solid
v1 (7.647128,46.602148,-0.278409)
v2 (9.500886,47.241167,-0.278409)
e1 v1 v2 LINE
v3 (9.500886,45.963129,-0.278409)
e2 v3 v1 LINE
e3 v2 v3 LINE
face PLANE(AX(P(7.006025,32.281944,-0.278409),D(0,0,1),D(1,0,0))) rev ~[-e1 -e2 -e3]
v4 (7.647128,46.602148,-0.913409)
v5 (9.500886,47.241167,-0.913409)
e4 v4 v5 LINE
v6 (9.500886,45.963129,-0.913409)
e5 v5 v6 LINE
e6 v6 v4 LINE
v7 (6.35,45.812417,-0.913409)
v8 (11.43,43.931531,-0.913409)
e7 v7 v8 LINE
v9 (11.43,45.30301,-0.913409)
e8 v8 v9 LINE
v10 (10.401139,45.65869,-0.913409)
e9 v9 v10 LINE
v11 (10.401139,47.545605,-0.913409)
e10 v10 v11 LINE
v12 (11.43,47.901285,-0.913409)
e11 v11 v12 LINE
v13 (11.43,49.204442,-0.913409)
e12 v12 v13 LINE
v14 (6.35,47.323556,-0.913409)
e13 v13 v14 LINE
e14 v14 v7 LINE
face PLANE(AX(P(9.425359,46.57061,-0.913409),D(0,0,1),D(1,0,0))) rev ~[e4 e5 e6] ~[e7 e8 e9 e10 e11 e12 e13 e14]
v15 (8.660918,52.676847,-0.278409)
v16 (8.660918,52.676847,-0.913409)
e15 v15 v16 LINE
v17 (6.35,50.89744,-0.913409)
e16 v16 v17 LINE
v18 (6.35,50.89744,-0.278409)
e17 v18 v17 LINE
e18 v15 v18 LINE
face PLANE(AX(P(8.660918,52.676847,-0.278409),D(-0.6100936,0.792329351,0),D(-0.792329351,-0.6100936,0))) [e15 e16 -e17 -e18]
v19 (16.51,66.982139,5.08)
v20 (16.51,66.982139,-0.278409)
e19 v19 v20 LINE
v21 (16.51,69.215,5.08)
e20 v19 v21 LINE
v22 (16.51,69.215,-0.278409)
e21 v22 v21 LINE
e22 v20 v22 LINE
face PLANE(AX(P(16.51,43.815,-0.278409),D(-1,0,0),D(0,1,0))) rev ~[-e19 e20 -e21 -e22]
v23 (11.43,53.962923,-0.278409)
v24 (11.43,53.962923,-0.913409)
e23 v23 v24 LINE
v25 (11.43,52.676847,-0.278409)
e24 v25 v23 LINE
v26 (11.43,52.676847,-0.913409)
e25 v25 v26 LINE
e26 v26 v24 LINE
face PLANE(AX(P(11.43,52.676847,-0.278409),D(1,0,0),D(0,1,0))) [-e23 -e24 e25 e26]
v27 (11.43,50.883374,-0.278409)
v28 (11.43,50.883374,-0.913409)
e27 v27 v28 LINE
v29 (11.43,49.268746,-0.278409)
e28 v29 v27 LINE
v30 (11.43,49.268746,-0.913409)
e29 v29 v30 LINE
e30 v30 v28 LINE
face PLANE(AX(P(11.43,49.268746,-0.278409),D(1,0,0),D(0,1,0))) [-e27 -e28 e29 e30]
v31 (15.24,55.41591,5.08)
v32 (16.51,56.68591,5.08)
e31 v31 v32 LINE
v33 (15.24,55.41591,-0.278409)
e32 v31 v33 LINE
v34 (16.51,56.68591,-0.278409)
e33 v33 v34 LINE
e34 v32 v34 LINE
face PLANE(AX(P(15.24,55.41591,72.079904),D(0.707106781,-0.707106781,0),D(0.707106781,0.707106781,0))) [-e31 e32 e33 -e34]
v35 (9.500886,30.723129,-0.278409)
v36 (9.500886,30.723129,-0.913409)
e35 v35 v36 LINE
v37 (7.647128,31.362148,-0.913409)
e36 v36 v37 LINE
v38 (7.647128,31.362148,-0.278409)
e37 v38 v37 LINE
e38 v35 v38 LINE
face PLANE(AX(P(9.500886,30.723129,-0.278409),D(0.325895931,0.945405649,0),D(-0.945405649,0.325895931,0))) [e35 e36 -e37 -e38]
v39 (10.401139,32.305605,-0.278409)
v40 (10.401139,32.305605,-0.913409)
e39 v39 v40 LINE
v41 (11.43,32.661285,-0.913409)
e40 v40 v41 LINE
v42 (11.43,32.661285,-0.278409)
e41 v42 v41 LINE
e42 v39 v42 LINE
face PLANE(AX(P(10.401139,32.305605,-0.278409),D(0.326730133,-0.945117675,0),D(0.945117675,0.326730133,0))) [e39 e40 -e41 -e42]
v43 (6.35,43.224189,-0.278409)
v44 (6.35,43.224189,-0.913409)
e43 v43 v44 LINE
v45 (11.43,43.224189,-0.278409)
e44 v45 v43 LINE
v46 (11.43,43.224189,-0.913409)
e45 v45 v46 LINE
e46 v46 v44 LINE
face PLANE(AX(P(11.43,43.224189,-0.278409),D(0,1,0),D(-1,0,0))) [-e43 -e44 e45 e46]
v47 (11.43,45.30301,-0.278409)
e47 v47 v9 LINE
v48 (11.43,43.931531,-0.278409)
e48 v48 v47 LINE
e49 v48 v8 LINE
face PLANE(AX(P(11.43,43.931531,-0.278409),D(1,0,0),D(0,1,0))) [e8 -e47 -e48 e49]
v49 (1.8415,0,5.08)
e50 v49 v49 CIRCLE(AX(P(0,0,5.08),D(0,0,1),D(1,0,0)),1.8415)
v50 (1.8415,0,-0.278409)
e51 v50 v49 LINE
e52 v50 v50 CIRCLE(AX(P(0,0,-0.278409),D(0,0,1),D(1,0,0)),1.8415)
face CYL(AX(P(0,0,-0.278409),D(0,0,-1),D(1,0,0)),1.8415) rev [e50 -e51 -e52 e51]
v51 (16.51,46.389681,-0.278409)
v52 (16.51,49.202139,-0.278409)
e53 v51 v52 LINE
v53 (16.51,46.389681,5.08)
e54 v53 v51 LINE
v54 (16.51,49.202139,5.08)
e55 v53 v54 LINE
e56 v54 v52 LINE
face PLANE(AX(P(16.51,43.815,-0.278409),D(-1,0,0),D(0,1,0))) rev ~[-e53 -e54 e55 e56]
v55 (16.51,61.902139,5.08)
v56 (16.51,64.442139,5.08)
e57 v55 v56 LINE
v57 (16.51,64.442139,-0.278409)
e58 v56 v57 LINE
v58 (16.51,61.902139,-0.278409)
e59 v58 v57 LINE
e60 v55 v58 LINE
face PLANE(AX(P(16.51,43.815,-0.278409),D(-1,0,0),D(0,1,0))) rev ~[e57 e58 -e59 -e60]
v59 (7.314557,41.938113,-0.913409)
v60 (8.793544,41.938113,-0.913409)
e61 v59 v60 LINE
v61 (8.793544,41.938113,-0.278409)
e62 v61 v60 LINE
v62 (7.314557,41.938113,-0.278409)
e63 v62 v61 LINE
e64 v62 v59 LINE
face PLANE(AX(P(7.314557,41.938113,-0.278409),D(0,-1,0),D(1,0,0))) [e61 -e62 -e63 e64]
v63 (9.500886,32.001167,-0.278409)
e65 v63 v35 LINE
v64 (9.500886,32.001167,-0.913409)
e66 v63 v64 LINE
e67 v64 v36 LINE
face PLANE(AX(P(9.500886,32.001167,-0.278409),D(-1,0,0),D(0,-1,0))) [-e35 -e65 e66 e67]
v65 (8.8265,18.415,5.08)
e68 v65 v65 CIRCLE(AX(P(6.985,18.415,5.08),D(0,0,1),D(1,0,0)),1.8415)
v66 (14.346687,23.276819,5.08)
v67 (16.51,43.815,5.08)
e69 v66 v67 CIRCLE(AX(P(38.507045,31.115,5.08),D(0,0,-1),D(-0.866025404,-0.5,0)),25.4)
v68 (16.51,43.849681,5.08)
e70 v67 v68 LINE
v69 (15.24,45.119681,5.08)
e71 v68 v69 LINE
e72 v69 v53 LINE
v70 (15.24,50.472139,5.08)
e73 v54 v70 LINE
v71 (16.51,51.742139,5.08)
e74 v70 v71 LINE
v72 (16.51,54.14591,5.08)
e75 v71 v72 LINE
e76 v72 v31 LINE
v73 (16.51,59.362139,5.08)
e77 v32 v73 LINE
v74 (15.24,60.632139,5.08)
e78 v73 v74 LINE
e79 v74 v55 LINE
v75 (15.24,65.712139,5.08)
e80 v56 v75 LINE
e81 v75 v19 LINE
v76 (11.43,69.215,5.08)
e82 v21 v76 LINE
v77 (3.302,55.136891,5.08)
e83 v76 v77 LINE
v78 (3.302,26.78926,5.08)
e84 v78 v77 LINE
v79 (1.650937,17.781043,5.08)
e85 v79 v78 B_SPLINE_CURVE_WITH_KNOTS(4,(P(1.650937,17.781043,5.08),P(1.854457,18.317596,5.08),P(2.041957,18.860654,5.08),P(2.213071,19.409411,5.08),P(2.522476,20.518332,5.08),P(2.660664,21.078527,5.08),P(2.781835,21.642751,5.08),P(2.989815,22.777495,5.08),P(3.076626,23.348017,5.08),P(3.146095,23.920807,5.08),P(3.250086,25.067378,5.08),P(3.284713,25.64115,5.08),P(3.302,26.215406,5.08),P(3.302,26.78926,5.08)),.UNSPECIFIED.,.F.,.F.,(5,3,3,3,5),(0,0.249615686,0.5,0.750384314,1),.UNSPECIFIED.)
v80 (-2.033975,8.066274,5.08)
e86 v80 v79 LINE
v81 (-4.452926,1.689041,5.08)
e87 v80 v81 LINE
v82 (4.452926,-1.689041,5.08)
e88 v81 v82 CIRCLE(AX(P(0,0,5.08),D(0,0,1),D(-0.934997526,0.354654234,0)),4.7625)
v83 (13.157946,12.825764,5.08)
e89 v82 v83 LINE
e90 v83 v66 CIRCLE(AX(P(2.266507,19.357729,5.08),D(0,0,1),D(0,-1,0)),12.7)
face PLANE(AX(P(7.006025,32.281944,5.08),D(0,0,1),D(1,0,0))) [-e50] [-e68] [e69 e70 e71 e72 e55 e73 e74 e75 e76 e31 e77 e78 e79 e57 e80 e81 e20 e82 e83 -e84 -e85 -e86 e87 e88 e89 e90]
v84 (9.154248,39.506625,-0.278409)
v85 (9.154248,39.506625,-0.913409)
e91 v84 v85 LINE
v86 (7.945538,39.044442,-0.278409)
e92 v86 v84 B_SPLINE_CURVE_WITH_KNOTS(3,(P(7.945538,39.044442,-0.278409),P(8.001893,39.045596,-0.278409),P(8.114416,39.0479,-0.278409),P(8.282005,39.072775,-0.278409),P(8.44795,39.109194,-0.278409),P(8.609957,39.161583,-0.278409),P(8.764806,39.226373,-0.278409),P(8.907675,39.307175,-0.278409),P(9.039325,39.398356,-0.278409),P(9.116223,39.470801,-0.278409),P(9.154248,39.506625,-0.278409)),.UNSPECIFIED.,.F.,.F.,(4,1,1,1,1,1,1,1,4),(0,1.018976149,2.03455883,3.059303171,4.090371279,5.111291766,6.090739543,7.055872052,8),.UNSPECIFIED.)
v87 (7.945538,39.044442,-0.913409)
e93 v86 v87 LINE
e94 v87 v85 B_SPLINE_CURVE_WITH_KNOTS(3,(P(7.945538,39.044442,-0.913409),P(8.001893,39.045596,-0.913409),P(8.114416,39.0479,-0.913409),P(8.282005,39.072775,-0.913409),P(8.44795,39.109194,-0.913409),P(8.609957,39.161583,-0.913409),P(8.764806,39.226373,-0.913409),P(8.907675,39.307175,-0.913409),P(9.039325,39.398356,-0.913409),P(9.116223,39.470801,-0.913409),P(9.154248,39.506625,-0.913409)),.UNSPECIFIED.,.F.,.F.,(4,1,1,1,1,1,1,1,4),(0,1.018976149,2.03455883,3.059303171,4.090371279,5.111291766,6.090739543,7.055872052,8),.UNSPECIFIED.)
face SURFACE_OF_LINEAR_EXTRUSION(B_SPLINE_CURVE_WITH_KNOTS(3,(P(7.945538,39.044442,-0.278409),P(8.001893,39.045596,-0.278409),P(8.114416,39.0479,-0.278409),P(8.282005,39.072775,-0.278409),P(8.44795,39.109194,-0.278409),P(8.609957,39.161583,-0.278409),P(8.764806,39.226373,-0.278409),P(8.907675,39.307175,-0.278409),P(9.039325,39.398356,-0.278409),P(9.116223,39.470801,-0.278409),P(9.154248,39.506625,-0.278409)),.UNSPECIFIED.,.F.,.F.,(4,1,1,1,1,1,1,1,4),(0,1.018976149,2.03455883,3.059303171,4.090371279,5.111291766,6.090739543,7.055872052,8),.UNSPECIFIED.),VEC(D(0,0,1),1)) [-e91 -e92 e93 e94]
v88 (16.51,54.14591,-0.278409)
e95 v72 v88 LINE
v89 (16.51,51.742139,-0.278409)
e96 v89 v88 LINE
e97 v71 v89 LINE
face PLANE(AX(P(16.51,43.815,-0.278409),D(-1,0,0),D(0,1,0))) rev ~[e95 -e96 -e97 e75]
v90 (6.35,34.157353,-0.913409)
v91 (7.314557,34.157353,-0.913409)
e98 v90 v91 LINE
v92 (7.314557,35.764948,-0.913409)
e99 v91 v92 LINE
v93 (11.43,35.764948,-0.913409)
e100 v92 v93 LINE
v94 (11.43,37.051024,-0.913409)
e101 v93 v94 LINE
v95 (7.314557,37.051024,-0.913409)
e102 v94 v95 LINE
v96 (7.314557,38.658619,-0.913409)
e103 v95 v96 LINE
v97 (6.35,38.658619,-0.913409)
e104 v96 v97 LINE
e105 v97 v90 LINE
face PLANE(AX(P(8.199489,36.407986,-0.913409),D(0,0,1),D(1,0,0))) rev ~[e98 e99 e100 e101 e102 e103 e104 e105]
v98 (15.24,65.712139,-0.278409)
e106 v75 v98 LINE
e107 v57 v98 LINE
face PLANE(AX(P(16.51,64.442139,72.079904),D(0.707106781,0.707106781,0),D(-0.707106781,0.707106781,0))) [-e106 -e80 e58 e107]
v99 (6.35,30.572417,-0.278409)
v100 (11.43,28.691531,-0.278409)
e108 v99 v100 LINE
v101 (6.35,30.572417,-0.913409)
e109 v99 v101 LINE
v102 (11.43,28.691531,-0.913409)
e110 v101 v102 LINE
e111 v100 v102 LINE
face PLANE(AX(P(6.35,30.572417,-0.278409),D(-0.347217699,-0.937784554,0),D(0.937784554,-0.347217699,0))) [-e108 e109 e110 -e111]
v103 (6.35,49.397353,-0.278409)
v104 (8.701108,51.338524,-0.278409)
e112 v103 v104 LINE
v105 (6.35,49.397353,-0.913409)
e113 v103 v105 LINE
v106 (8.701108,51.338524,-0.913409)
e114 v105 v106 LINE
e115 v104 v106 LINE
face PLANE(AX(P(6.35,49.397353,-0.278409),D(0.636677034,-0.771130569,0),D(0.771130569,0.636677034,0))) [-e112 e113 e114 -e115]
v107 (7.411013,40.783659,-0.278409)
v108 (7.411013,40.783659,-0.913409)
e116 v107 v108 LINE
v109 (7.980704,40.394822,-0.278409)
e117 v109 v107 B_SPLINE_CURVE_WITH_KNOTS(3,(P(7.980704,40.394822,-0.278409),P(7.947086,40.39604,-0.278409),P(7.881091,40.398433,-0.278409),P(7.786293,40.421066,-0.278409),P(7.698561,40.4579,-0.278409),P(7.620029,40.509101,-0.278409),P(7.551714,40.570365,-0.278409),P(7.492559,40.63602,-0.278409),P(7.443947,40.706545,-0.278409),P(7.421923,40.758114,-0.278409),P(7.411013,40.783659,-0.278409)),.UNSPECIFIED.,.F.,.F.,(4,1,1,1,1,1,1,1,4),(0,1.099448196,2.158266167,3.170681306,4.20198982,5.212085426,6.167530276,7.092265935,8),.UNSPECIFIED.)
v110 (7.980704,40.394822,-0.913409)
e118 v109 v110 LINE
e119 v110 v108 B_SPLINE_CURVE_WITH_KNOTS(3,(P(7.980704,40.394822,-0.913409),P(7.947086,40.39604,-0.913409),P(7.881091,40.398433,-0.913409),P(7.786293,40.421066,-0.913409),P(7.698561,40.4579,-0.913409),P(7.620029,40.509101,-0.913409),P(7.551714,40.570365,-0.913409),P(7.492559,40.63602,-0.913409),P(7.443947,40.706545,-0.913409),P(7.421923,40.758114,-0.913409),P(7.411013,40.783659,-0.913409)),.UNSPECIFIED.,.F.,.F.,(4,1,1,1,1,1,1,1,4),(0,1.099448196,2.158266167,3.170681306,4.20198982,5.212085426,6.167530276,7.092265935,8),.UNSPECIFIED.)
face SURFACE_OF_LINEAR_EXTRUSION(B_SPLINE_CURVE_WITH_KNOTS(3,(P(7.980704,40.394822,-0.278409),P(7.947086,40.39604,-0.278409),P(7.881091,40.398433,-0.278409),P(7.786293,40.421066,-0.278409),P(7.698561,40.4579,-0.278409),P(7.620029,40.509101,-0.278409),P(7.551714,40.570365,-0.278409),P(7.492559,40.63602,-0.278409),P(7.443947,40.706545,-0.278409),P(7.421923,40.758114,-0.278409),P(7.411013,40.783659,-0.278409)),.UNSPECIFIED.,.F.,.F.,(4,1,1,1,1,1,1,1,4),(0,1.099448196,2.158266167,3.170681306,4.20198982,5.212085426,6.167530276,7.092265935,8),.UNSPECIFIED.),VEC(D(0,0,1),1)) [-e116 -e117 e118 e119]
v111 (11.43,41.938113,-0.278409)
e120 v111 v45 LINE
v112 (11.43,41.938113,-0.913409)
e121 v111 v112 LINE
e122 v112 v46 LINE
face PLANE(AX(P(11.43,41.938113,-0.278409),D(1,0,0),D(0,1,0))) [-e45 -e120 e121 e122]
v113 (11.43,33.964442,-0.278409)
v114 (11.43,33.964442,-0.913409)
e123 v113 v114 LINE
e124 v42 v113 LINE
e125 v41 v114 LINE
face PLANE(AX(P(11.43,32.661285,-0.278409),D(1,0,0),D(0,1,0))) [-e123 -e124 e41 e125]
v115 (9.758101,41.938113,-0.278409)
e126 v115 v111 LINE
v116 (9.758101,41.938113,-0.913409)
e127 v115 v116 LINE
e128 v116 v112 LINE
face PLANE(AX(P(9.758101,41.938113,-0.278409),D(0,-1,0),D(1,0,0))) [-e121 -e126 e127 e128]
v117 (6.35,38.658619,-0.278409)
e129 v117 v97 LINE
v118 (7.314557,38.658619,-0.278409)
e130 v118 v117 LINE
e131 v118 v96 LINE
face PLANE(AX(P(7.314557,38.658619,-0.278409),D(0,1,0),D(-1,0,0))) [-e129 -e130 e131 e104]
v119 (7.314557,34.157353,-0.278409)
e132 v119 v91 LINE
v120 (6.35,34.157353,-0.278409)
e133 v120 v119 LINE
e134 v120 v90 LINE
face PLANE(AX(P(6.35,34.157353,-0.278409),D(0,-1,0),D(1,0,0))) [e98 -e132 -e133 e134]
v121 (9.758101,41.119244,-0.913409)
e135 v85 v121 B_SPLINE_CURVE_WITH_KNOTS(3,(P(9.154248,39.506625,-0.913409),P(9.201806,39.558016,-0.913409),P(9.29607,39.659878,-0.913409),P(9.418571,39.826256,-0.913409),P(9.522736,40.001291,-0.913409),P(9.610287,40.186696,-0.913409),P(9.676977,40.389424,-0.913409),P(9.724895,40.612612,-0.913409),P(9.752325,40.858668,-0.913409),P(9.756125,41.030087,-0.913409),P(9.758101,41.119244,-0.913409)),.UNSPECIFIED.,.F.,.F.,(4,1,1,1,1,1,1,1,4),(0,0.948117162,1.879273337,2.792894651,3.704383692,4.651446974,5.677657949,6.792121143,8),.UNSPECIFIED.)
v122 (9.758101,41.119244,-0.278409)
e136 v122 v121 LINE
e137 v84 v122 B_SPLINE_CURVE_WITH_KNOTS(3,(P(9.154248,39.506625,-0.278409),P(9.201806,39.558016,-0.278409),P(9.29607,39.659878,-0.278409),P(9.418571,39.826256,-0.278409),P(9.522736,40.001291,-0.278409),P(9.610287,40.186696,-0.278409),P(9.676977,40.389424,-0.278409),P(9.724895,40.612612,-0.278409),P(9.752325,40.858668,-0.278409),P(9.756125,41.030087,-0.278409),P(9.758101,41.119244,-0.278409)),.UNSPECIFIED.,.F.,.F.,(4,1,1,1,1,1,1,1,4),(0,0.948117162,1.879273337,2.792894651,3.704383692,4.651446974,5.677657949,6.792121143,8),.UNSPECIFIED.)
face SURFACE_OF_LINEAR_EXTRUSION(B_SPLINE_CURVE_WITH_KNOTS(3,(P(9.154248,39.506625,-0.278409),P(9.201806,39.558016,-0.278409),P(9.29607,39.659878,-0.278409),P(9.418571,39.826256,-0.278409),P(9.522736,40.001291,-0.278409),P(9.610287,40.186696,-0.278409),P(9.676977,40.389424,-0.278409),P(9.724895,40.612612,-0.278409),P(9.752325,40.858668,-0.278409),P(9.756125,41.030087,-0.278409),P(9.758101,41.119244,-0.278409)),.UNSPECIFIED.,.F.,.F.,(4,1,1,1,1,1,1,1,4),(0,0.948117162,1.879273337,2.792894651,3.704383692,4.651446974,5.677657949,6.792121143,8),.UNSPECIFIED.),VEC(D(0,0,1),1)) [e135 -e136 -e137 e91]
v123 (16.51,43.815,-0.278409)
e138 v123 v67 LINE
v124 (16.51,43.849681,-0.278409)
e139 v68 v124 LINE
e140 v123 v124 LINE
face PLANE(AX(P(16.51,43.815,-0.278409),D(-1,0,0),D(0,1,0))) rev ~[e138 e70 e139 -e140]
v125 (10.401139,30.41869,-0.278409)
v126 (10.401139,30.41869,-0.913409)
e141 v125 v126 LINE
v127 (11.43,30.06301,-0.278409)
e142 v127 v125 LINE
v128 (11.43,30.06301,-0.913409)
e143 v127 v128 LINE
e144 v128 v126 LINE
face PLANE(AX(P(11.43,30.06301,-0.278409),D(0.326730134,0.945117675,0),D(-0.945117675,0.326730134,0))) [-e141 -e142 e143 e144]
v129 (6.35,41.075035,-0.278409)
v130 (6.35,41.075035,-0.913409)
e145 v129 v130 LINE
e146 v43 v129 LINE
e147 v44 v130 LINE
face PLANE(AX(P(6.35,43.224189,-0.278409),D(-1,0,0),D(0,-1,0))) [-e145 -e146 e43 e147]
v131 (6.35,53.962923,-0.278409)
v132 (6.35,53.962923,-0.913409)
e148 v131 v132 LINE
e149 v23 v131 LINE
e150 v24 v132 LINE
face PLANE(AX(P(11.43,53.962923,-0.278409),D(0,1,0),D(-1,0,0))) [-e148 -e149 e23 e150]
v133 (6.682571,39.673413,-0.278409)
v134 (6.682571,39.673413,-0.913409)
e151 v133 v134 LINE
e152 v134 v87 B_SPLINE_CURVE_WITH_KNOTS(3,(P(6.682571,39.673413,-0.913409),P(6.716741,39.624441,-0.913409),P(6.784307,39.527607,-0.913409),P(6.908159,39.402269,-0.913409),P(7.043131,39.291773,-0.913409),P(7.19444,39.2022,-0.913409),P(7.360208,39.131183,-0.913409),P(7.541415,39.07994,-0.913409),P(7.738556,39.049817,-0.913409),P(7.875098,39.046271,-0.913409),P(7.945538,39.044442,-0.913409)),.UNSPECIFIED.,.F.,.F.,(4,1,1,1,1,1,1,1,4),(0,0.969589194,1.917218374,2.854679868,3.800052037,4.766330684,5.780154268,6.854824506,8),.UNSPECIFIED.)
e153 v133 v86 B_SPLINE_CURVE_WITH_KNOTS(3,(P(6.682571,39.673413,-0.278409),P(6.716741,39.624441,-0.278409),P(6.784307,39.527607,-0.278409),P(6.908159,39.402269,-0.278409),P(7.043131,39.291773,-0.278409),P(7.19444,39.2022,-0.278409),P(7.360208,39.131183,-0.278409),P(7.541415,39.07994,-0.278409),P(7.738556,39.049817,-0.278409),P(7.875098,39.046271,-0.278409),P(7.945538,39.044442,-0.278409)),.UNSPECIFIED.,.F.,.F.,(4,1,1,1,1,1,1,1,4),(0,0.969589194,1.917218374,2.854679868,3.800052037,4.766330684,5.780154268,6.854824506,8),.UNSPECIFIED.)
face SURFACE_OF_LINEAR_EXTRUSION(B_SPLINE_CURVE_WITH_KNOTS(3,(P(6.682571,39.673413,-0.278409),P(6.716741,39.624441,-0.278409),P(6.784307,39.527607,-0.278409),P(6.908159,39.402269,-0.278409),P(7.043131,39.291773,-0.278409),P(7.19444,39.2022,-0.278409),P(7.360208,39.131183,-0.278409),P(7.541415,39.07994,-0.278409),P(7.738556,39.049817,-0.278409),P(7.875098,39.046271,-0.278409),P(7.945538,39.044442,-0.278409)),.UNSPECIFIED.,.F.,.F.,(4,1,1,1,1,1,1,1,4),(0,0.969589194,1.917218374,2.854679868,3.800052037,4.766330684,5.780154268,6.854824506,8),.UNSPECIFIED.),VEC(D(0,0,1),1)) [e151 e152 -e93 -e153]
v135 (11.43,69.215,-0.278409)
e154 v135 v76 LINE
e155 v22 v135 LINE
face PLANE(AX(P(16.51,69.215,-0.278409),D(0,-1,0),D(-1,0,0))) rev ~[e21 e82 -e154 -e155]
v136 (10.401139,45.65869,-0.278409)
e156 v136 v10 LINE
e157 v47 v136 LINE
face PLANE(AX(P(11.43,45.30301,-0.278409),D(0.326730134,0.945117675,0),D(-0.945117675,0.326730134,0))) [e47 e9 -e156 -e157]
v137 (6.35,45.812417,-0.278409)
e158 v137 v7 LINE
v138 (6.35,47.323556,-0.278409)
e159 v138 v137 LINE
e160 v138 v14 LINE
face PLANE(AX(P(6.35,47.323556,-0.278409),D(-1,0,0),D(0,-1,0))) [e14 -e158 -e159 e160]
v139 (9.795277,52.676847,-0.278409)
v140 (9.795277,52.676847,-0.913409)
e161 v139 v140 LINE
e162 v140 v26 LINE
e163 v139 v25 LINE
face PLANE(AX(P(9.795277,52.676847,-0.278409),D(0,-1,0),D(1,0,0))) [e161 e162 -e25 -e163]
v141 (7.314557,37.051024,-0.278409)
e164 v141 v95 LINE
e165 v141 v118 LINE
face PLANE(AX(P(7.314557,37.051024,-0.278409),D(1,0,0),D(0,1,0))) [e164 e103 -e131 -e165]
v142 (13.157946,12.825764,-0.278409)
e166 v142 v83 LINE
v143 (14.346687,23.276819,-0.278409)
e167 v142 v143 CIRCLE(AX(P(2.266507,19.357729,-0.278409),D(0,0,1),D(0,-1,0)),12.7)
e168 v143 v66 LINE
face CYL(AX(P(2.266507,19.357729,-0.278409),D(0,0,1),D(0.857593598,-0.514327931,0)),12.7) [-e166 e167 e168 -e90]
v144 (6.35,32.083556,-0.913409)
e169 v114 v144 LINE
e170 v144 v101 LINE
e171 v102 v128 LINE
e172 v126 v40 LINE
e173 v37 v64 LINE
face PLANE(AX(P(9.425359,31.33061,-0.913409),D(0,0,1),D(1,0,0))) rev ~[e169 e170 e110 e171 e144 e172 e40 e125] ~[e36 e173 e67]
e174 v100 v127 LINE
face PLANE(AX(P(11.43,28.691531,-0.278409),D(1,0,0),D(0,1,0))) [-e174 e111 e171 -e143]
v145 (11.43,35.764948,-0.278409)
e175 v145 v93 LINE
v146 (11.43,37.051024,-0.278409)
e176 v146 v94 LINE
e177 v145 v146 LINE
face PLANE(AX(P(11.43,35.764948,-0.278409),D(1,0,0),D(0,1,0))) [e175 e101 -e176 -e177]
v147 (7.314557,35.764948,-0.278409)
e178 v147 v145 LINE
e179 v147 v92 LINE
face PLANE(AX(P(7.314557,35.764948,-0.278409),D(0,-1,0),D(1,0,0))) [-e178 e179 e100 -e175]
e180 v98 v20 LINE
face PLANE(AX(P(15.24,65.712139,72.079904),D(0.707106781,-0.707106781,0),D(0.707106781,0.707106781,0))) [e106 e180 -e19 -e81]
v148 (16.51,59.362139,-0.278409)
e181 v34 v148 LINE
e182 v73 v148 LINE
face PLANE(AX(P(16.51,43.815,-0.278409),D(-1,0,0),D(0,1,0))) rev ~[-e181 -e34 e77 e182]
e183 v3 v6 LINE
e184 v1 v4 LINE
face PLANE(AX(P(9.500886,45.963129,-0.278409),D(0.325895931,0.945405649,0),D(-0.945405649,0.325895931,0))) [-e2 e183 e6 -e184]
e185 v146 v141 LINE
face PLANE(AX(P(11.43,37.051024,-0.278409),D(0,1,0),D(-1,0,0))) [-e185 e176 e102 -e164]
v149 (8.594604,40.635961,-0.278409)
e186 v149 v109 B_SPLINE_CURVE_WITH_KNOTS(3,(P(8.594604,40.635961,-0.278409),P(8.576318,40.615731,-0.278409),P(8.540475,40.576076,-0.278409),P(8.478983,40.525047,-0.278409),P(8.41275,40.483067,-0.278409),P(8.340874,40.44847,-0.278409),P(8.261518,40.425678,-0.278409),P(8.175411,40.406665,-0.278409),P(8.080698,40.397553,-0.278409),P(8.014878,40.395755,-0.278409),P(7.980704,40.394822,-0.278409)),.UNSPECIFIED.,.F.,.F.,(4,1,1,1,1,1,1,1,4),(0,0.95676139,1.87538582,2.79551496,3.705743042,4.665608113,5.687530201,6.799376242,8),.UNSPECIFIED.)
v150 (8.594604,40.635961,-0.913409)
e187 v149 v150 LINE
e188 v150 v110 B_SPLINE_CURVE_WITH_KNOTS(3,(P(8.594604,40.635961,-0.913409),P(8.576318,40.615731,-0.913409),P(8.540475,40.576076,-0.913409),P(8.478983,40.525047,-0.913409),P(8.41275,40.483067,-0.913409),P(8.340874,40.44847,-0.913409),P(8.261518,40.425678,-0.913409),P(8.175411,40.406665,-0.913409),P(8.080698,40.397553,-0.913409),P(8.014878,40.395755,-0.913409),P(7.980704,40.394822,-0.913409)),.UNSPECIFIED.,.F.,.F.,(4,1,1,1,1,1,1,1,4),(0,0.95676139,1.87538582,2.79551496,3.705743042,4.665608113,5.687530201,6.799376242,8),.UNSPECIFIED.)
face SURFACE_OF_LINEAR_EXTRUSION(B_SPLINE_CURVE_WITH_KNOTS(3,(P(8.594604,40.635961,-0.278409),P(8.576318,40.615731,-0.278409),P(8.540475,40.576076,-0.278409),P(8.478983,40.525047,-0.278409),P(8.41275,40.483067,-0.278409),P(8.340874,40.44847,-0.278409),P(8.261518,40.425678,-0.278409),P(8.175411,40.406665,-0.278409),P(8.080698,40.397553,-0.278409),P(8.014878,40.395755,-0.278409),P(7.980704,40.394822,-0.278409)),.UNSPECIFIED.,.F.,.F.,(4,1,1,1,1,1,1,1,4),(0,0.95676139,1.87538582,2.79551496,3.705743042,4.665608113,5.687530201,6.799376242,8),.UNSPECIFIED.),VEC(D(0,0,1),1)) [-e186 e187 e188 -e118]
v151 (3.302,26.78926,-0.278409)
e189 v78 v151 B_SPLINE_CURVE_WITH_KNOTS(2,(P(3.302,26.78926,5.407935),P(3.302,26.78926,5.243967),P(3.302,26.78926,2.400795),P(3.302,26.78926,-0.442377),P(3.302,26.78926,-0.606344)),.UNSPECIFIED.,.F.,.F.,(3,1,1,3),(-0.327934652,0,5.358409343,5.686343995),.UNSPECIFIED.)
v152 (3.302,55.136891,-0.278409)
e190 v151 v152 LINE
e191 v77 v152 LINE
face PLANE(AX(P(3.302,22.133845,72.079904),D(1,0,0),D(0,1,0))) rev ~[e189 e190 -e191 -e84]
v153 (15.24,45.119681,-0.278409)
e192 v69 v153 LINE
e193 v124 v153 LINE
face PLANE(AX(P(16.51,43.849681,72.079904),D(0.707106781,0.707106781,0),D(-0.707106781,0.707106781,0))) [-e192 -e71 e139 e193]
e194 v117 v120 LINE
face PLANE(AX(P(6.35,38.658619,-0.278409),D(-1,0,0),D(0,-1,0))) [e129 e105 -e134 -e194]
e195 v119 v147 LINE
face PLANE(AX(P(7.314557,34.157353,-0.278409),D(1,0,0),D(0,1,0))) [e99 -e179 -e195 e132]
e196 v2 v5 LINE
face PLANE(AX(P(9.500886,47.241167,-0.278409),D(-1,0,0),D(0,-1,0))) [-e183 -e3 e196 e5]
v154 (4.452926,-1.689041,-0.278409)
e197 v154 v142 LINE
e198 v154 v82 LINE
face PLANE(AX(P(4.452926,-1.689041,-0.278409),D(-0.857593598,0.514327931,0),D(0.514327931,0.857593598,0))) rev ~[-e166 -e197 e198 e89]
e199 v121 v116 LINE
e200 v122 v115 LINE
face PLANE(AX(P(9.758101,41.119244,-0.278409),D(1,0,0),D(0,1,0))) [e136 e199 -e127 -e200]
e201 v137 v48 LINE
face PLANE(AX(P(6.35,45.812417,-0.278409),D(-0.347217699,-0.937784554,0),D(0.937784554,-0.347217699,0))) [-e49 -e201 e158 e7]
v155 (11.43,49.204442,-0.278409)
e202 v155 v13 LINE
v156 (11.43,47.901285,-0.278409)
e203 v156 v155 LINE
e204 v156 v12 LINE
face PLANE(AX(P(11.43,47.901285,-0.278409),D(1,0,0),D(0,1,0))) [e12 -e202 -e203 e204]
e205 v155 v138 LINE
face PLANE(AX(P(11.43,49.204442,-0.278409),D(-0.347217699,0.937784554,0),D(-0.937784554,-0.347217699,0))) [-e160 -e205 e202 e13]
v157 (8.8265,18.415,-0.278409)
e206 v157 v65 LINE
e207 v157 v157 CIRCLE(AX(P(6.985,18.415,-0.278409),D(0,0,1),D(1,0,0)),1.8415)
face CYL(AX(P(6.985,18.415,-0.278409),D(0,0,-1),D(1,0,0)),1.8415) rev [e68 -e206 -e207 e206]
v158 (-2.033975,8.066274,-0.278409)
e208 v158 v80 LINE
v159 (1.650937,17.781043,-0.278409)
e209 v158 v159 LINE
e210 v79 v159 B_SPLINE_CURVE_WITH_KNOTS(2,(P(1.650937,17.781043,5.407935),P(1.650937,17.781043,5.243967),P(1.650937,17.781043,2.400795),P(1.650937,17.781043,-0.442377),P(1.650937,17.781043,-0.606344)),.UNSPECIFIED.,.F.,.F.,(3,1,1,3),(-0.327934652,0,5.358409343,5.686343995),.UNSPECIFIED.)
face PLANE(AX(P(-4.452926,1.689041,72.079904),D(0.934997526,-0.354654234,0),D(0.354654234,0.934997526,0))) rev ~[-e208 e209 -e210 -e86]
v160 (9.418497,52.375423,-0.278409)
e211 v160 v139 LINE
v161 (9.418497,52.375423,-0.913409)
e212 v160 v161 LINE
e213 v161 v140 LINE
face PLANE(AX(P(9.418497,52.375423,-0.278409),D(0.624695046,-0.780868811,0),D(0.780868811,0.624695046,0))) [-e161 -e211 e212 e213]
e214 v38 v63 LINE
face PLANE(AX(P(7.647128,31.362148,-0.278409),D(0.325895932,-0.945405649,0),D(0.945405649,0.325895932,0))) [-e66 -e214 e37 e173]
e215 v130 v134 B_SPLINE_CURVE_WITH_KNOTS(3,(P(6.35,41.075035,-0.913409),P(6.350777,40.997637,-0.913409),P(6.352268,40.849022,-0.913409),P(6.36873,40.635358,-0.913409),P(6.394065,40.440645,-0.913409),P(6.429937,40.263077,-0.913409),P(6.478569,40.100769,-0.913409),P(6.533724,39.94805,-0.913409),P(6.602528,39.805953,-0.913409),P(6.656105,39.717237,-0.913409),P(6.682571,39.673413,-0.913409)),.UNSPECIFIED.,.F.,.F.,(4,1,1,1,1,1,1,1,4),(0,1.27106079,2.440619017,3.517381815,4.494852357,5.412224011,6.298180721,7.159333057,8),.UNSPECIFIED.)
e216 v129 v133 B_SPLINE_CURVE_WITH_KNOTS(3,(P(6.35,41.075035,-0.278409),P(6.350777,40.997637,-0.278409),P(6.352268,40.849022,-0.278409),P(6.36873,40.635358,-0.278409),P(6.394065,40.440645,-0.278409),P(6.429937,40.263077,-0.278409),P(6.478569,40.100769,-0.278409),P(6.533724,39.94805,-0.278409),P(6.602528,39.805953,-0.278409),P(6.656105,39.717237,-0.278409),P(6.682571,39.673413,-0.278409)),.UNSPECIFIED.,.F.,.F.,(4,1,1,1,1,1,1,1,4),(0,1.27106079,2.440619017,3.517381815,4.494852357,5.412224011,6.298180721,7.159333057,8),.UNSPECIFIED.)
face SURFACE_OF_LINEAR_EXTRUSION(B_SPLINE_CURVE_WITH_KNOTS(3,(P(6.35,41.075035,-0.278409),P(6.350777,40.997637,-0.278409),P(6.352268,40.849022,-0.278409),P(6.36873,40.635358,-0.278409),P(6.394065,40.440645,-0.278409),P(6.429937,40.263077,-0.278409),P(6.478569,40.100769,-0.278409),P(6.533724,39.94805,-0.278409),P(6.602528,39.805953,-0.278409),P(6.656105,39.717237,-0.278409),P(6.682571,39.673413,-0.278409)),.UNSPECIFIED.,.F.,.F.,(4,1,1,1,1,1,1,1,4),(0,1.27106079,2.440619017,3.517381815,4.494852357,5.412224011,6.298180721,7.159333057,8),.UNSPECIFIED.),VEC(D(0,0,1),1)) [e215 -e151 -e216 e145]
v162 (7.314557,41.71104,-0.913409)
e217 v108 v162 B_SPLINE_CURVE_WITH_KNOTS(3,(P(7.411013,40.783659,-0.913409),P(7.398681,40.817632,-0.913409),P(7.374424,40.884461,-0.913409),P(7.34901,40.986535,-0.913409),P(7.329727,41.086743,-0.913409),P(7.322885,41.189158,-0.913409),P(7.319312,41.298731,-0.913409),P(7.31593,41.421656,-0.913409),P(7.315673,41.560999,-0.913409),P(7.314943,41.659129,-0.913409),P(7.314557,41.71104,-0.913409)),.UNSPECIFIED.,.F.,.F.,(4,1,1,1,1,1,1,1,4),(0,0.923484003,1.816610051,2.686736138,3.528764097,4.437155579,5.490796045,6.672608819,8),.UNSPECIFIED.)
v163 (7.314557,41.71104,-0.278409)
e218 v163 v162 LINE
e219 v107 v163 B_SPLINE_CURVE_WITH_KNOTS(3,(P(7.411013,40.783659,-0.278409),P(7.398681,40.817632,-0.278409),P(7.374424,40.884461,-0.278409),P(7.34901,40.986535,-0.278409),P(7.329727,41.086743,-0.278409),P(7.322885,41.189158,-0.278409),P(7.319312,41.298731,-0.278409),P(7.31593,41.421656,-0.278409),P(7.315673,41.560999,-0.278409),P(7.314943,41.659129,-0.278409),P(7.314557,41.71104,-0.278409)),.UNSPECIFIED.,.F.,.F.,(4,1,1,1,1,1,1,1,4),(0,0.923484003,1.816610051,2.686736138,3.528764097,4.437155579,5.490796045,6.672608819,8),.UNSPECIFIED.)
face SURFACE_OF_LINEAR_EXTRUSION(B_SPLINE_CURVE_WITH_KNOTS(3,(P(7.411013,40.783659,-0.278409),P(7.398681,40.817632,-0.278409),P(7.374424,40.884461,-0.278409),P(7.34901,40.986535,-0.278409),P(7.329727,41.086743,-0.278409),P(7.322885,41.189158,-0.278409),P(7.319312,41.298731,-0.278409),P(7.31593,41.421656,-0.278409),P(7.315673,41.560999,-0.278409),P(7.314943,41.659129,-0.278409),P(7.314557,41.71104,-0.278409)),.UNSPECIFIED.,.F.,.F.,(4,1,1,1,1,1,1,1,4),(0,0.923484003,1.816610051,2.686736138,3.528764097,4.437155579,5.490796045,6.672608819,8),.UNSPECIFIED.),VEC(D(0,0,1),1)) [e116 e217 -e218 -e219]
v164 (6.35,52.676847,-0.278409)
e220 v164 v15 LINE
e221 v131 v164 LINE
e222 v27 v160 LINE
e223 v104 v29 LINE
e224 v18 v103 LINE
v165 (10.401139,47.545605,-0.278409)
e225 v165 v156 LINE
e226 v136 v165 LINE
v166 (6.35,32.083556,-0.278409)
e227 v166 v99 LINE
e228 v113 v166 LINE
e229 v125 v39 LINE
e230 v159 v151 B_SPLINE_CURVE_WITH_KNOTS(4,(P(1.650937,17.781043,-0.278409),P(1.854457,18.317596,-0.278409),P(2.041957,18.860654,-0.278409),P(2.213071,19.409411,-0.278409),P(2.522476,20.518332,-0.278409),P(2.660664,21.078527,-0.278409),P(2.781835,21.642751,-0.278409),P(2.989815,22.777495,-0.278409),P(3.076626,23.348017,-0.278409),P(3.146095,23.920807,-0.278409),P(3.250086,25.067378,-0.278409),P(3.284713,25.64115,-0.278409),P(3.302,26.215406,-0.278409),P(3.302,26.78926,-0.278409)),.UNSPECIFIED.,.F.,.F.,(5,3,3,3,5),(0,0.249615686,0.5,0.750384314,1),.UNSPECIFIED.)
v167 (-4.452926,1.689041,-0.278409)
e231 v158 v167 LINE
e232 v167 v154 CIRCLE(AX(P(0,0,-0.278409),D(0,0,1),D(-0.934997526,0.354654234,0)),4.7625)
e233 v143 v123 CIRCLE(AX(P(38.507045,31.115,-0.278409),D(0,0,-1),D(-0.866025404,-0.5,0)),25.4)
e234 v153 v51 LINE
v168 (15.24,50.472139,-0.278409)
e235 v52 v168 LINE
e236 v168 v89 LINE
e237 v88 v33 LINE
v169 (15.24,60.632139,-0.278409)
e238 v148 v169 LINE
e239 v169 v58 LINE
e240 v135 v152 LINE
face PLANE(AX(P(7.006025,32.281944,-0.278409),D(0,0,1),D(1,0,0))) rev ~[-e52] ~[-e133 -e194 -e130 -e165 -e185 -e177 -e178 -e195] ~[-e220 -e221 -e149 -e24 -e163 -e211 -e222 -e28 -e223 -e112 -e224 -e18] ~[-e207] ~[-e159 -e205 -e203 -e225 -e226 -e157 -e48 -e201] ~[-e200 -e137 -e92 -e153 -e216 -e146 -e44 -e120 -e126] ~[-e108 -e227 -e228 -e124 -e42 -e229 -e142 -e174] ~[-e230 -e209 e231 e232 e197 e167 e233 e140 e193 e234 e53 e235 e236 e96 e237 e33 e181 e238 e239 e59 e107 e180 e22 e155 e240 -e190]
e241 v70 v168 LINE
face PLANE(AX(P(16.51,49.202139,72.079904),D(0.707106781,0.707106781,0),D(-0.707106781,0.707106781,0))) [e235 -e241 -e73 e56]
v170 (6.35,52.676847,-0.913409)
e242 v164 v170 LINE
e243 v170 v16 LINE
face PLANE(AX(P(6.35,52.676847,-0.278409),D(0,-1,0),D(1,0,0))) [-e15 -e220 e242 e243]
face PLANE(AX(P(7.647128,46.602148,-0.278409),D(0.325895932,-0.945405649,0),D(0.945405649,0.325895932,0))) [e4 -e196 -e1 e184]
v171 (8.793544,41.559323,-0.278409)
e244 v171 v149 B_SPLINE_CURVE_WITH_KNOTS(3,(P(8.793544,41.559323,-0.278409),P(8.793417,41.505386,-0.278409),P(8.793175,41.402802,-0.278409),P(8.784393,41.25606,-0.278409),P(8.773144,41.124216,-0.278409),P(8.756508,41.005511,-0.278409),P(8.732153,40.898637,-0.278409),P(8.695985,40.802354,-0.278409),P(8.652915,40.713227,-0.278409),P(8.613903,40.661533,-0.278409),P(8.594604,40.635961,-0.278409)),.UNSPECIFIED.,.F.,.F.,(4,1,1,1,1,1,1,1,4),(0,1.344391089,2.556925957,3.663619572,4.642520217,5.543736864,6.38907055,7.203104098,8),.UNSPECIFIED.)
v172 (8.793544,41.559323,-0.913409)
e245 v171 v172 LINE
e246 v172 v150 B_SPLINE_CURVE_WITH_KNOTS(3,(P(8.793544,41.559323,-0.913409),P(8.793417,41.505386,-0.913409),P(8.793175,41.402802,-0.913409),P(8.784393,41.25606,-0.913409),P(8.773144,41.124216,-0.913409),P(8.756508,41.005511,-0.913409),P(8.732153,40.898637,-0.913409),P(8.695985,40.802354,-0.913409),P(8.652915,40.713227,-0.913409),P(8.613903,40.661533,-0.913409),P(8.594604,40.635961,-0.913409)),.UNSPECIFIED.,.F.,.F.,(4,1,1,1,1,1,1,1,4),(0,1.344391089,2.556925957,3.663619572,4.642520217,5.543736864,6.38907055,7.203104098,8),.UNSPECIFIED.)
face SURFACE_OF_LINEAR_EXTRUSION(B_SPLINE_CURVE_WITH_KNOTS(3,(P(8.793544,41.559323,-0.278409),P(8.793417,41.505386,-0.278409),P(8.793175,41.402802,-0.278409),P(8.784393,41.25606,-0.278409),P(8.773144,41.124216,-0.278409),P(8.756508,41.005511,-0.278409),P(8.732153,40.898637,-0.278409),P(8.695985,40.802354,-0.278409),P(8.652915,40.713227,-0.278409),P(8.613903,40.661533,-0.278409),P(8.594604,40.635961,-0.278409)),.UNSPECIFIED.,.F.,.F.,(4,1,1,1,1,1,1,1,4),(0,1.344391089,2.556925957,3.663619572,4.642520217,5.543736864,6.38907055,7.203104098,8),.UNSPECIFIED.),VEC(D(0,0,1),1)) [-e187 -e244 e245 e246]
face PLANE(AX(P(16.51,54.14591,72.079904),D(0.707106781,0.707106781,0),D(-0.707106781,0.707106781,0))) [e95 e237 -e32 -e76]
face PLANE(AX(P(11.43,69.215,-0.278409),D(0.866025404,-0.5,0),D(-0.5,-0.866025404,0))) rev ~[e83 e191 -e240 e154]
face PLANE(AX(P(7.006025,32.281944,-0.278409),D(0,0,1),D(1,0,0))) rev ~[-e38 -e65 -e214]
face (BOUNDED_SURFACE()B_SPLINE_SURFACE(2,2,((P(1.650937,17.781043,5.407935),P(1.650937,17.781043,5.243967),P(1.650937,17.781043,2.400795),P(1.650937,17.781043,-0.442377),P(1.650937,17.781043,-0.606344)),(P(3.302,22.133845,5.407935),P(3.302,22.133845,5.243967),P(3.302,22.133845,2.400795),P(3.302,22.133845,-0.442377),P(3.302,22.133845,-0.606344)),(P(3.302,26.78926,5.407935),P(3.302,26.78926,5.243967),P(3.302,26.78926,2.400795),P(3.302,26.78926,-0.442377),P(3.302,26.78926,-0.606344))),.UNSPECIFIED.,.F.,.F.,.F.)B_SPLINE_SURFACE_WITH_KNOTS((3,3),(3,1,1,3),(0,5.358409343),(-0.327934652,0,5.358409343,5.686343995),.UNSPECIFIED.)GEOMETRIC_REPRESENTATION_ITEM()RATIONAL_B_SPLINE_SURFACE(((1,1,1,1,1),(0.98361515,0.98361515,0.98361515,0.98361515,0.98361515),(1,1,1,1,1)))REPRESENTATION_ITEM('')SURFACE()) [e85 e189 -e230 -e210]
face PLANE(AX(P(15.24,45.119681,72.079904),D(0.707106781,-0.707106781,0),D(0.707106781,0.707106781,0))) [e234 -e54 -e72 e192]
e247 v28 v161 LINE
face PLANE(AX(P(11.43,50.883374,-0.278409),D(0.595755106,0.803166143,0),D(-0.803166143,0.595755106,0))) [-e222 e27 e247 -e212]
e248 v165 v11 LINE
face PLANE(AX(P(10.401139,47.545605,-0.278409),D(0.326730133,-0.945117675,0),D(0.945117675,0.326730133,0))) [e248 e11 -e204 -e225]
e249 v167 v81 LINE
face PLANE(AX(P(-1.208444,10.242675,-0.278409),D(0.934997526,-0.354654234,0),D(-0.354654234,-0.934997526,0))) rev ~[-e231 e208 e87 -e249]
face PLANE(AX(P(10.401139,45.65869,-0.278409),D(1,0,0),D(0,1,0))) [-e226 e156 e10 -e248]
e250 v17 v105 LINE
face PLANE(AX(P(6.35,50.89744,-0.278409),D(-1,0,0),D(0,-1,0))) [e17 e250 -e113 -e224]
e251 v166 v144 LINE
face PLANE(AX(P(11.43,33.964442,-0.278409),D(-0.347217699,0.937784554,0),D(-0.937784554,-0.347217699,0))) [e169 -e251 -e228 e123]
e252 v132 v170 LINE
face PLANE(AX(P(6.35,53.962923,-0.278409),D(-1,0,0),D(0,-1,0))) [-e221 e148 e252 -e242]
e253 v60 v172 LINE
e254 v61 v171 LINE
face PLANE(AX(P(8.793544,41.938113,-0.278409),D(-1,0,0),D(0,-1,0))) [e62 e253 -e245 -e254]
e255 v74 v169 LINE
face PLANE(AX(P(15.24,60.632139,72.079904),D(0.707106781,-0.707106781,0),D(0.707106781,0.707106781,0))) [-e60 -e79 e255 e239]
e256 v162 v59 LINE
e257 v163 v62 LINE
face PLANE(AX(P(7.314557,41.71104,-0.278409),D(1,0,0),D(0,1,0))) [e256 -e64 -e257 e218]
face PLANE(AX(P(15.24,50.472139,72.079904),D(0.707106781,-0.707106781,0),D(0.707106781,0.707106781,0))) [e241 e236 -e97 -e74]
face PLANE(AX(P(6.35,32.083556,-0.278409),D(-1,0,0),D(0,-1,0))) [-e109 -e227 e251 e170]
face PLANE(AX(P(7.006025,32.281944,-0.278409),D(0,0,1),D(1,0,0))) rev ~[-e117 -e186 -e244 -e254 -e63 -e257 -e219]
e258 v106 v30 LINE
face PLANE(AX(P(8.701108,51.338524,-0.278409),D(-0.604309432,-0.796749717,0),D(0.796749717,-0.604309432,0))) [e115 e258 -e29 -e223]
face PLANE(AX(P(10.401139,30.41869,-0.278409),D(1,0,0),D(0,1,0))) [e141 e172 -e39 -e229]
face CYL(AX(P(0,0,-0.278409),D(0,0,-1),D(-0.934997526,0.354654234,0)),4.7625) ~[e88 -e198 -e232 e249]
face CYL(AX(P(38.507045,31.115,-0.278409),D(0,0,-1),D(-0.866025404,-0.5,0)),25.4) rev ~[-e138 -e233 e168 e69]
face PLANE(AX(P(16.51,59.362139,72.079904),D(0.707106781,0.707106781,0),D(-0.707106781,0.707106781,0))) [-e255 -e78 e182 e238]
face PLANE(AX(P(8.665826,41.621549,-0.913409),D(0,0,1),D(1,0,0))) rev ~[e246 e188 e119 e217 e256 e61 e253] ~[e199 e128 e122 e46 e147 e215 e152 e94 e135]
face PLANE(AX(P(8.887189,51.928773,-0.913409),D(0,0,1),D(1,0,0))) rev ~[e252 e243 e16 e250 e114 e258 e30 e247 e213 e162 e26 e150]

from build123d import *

# Parameters (mm, degrees)
BOSS_EXTRUDE1_DEPTH      = 5.08
BOSS_EXTRUDE1_DEPTH_BACK = 0.278409343
SKETCH1_R                = 1.8415
CUT_EXTRUDE1_DEPTH       = 72.358313291
CUT_EXTRUDE1_DEPTH_BACK  = 72.358313291
BOSS_EXTRUDE2_DEPTH      = 0.635
FILLET2_R                = 12.7
CUT_EXTRUDE2_DEPTH       = 72.358313411
CUT_EXTRUDE2_DEPTH_BACK  = 72.358313411
FILLET3_R                = 25.4


with BuildPart() as part:
    # Sketch1 → Boss-Extrude1 (new, two sides: drawn at the far end of the back side and taken through both)
    with BuildSketch(Plane.XY.offset(-BOSS_EXTRUDE1_DEPTH_BACK)):
        with BuildLine():
            Line((-1.208443772, 47.324573258), (-1.208443772, 10.242675014))
            Line((-1.208443772, 10.242675014), (-4.452925719, 1.68904079))
            ThreePointArc((-4.452925719, 1.68904079), (-1.68904079, -4.452925719), (4.452925719, -1.68904079))
            Line((4.452925719, -1.68904079), (16.51, 18.415))
            ThreePointArc((16.51, 18.415), (13.107045256, 31.115), (16.51, 43.815))
            Line((16.51, 43.815), (16.51, 69.215))
            Line((16.51, 69.215), (11.43, 69.215))
            Line((11.43, 69.215), (-1.208443772, 47.324573258))
        make_face()
        Circle(SKETCH1_R, mode=Mode.SUBTRACT)
        with Locations((6.985, 18.415)):
            Circle(SKETCH1_R, mode=Mode.SUBTRACT)
    extrude(amount=BOSS_EXTRUDE1_DEPTH + BOSS_EXTRUDE1_DEPTH_BACK)

    # Sketch2 → Cut-Extrude1 (cut, two sides: drawn at the far end of the back side and taken through both)
    with BuildSketch(Plane(origin=(0, 0, -0.278409343), x_dir=(-1, 0, 0), z_dir=(0, 0, -1)).offset(-CUT_EXTRUDE1_DEPTH_BACK)):
        Polygon((-16.51, 64.442139164), (-15.24, 65.712139164), (-16.51, 66.982139164), align=None)
        Polygon((-16.51, 61.902139164), (-16.51, 59.362139164), (-15.24, 60.632139164), align=None)
        Polygon((-15.24, 55.415909985), (-16.51, 56.685909985), (-16.51, 54.145909985), align=None)
        Polygon((-16.51, 49.202139164), (-15.24, 50.472139164), (-16.51, 51.742139164), align=None)
        Polygon((-16.51, 43.849680806), (-15.24, 45.119680806), (-16.51, 46.389680806), align=None)
    extrude(amount=CUT_EXTRUDE1_DEPTH + CUT_EXTRUDE1_DEPTH_BACK, mode=Mode.SUBTRACT)

    # Sketch5 → Boss-Extrude2 (add)
    # profile 1 of 5: a face of its own
    with BuildSketch(Plane(origin=(0, 0, -0.278409343), x_dir=(-1, 0, 0), z_dir=(0, 0, -1))):
        Polygon((-11.43, 49.268745692), (-11.43, 50.883373857), (-9.418496835, 52.375422908), (-9.795276899, 52.676846958), (-11.43, 52.676846958), (-11.43, 53.962922908), (-6.35, 53.962922908), (-6.35, 52.676846958), (-8.660917722, 52.676846958), (-6.35, 50.897440313), (-6.35, 49.397353287), (-8.701107595, 51.338524173), align=None)
    # profile 2 of 5: a face of its own
    with BuildSketch(Plane(origin=(0, 0, -0.278409343), x_dir=(-1, 0, 0), z_dir=(0, 0, -1))):
        Polygon((-11.43, 43.931530503), (-11.43, 45.303009933), (-10.401139241, 45.658690313), (-10.401139241, 47.54560487), (-11.43, 47.901285249), (-11.43, 49.204441895), (-6.35, 47.323555819), (-6.35, 45.812416579), align=None)
        Polygon((-9.500886076, 45.963128604), (-7.647128165, 46.602147591), (-9.500886076, 47.241166579), align=None, mode=Mode.SUBTRACT)
    # profile 3 of 5: a face of its own
    with BuildSketch(Plane(origin=(0, 0, -0.278409343), x_dir=(-1, 0, 0), z_dir=(0, 0, -1))):
        with BuildLine():
            add(Edge.make_bspline(
                [(-7.945537975, 39.044441895), (-8.001893228, 39.045595729), (-8.114416057, 39.047899554), (-8.28200483, 39.072775037), (-8.447950006, 39.109194211), (-8.609957002, 39.161582728), (-8.764806034, 39.226372615), (-8.907675176, 39.307175215), (-9.039325299, 39.398356472), (-9.116222705, 39.470801449), (-9.154248418, 39.506625439)],
                knots=[0, 0, 0, 0, 1.018976149, 2.03455883, 3.059303171, 4.090371279, 5.111291766, 6.090739543, 7.055872052, 8, 8, 8, 8], degree=3))
            add(Edge.make_bspline(
                [(-9.154248418, 39.506625439), (-9.201805939, 39.55801623), (-9.296070219, 39.659878477), (-9.418570971, 39.826256442), (-9.522735706, 40.00129059), (-9.610286921, 40.186696086), (-9.676976835, 40.389424255), (-9.724895215, 40.612612286), (-9.752324851, 40.858668471), (-9.756124843, 41.030087139), (-9.758101266, 41.11924411)],
                knots=[0, 0, 0, 0, 0.948117162, 1.879273337, 2.792894651, 3.704383692, 4.651446974, 5.677657949, 6.792121143, 8, 8, 8, 8], degree=3))
            Line((-9.758101266, 41.11924411), (-9.758101266, 41.938112781))
            Line((-9.758101266, 41.938112781), (-11.43, 41.938112781))
            Line((-11.43, 41.938112781), (-11.43, 43.22418873))
            Line((-11.43, 43.22418873), (-6.35, 43.22418873))
            Line((-6.35, 43.22418873), (-6.35, 41.075035249))
            add(Edge.make_bspline(
                [(-6.35, 41.075035249), (-6.350776756, 40.997637205), (-6.35226824, 40.849021858), (-6.368729674, 40.63535844), (-6.394065089, 40.440645282), (-6.429937183, 40.263077028), (-6.478568776, 40.100769403), (-6.533724195, 39.948050161), (-6.602528473, 39.805953028), (-6.656105267, 39.717237318), (-6.682571203, 39.673413414)],
                knots=[0, 0, 0, 0, 1.27106079, 2.440619017, 3.517381815, 4.494852357, 5.412224011, 6.298180721, 7.159333057, 8, 8, 8, 8], degree=3))
            add(Edge.make_bspline(
                [(-6.682571203, 39.673413414), (-6.716741123, 39.624441403), (-6.784307056, 39.527606537), (-6.908159272, 39.40226874), (-7.043131438, 39.291772761), (-7.194439682, 39.202199788), (-7.360207545, 39.131182806), (-7.541414973, 39.079940069), (-7.738556134, 39.049817137), (-7.875098439, 39.046271184), (-7.945537975, 39.044441895)],
                knots=[0, 0, 0, 0, 0.969589194, 1.917218374, 2.854679868, 3.800052037, 4.766330684, 5.780154268, 6.854824506, 8, 8, 8, 8], degree=3))
        make_face()
        with BuildLine():
            add(Edge.make_bspline(
                [(-7.980704114, 40.394821642), (-7.94708576, 40.396040367), (-7.881091423, 40.398432779), (-7.786293373, 40.42106559), (-7.698560794, 40.457900068), (-7.620028501, 40.509101182), (-7.551714372, 40.570364624), (-7.492559182, 40.636019652), (-7.443946978, 40.706545052), (-7.421922651, 40.758113612), (-7.411012658, 40.783658667)],
                knots=[0, 0, 0, 0, 1.099448196, 2.158266167, 3.170681306, 4.20198982, 5.212085426, 6.167530276, 7.092265935, 8, 8, 8, 8], degree=3))
            add(Edge.make_bspline(
                [(-7.411012658, 40.783658667), (-7.398681248, 40.817631613), (-7.374423802, 40.884460703), (-7.349009707, 40.986535287), (-7.329727426, 41.086742841), (-7.322884819, 41.189157588), (-7.319312234, 41.298731496), (-7.315930195, 41.421655598), (-7.315672903, 41.560999172), (-7.314943057, 41.659128638), (-7.314556962, 41.711039996)],
                knots=[0, 0, 0, 0, 0.923484003, 1.816610051, 2.686736138, 3.528764097, 4.437155579, 5.490796045, 6.672608819, 8, 8, 8, 8], degree=3))
            Line((-7.314556962, 41.711039996), (-7.314556962, 41.938112781))
            Line((-7.314556962, 41.938112781), (-8.793544304, 41.938112781))
            Line((-8.793544304, 41.938112781), (-8.793544304, 41.559323224))
            add(Edge.make_bspline(
                [(-8.793544304, 41.559323224), (-8.793416885, 41.505386209), (-8.793174545, 41.402802255), (-8.784393416, 41.256060304), (-8.773143564, 41.124216394), (-8.756507529, 41.005510708), (-8.732152805, 40.898637133), (-8.695984985, 40.802354267), (-8.652914661, 40.713226884), (-8.613902833, 40.661532903), (-8.59460443, 40.635960882)],
                knots=[0, 0, 0, 0, 1.344391089, 2.556925957, 3.663619572, 4.642520217, 5.543736864, 6.38907055, 7.203104098, 8, 8, 8, 8], degree=3))
            add(Edge.make_bspline(
                [(-8.59460443, 40.635960882), (-8.57631846, 40.615730536), (-8.540475406, 40.576076235), (-8.478983071, 40.52504715), (-8.412749808, 40.483066813), (-8.340873581, 40.448470473), (-8.261518495, 40.425677511), (-8.175411224, 40.406665169), (-8.080697555, 40.397552624), (-8.014877557, 40.395754974), (-7.980704114, 40.394821642)],
                knots=[0, 0, 0, 0, 0.95676139, 1.87538582, 2.79551496, 3.705743042, 4.665608113, 5.687530201, 6.799376242, 8, 8, 8, 8], degree=3))
        make_face(mode=Mode.SUBTRACT)
    # profile 4 of 5: a face of its own
    with BuildSketch(Plane(origin=(0, 0, -0.278409343), x_dir=(-1, 0, 0), z_dir=(0, 0, -1))):
        Polygon((-7.314556962, 34.157353287), (-7.314556962, 35.764948224), (-11.43, 35.764948224), (-11.43, 37.051024173), (-7.314556962, 37.051024173), (-7.314556962, 38.65861911), (-6.35, 38.65861911), (-6.35, 34.157353287), align=None)
    # profile 5 of 5: a face of its own
    with BuildSketch(Plane(origin=(0, 0, -0.278409343), x_dir=(-1, 0, 0), z_dir=(0, 0, -1))):
        Polygon((-11.43, 28.691530503), (-11.43, 30.063009933), (-10.401139241, 30.418690313), (-10.401139241, 32.30560487), (-11.43, 32.661285249), (-11.43, 33.964441895), (-6.35, 32.083555819), (-6.35, 30.572416579), align=None)
        Polygon((-9.500886076, 30.723128604), (-7.647128165, 31.362147591), (-9.500886076, 32.001166579), align=None, mode=Mode.SUBTRACT)
    extrude(amount=BOSS_EXTRUDE2_DEPTH)

    # Fillet2
    fillet2_edges = [part.edges().sort_by_distance(p)[0] for p in [
        (16.51, 18.415, 2.400795328),
        (-1.208443772, 10.242675014, 2.400795328),
    ]]
    fillet(fillet2_edges, radius=FILLET2_R)

    # Sketch6 → Cut-Extrude2 (cut, two sides: drawn at the far end of the back side and taken through both)
    with BuildSketch(Plane(origin=(0, 0, -0.278409343), x_dir=(-1, 0, 0), z_dir=(0, 0, -1)).offset(-CUT_EXTRUDE2_DEPTH_BACK)):
        Polygon((-3.302, 55.136891036), (1.856635391, 55.136891036), (1.856635391, 24.765), (12.813790146, 19.47273461), (4.452925719, 1.68904079), (-2.532074281, 20.10404079), (-3.302, 22.133844959), align=None)
    extrude(amount=CUT_EXTRUDE2_DEPTH + CUT_EXTRUDE2_DEPTH_BACK, mode=Mode.SUBTRACT)

    # Fillet3
    fillet3_edges = [part.edges().sort_by_distance(p)[0] for p in [
        (3.302, 22.133844959, 2.400795328),
    ]]
    fillet(fillet3_edges, radius=FILLET3_R)


solid = part.part
